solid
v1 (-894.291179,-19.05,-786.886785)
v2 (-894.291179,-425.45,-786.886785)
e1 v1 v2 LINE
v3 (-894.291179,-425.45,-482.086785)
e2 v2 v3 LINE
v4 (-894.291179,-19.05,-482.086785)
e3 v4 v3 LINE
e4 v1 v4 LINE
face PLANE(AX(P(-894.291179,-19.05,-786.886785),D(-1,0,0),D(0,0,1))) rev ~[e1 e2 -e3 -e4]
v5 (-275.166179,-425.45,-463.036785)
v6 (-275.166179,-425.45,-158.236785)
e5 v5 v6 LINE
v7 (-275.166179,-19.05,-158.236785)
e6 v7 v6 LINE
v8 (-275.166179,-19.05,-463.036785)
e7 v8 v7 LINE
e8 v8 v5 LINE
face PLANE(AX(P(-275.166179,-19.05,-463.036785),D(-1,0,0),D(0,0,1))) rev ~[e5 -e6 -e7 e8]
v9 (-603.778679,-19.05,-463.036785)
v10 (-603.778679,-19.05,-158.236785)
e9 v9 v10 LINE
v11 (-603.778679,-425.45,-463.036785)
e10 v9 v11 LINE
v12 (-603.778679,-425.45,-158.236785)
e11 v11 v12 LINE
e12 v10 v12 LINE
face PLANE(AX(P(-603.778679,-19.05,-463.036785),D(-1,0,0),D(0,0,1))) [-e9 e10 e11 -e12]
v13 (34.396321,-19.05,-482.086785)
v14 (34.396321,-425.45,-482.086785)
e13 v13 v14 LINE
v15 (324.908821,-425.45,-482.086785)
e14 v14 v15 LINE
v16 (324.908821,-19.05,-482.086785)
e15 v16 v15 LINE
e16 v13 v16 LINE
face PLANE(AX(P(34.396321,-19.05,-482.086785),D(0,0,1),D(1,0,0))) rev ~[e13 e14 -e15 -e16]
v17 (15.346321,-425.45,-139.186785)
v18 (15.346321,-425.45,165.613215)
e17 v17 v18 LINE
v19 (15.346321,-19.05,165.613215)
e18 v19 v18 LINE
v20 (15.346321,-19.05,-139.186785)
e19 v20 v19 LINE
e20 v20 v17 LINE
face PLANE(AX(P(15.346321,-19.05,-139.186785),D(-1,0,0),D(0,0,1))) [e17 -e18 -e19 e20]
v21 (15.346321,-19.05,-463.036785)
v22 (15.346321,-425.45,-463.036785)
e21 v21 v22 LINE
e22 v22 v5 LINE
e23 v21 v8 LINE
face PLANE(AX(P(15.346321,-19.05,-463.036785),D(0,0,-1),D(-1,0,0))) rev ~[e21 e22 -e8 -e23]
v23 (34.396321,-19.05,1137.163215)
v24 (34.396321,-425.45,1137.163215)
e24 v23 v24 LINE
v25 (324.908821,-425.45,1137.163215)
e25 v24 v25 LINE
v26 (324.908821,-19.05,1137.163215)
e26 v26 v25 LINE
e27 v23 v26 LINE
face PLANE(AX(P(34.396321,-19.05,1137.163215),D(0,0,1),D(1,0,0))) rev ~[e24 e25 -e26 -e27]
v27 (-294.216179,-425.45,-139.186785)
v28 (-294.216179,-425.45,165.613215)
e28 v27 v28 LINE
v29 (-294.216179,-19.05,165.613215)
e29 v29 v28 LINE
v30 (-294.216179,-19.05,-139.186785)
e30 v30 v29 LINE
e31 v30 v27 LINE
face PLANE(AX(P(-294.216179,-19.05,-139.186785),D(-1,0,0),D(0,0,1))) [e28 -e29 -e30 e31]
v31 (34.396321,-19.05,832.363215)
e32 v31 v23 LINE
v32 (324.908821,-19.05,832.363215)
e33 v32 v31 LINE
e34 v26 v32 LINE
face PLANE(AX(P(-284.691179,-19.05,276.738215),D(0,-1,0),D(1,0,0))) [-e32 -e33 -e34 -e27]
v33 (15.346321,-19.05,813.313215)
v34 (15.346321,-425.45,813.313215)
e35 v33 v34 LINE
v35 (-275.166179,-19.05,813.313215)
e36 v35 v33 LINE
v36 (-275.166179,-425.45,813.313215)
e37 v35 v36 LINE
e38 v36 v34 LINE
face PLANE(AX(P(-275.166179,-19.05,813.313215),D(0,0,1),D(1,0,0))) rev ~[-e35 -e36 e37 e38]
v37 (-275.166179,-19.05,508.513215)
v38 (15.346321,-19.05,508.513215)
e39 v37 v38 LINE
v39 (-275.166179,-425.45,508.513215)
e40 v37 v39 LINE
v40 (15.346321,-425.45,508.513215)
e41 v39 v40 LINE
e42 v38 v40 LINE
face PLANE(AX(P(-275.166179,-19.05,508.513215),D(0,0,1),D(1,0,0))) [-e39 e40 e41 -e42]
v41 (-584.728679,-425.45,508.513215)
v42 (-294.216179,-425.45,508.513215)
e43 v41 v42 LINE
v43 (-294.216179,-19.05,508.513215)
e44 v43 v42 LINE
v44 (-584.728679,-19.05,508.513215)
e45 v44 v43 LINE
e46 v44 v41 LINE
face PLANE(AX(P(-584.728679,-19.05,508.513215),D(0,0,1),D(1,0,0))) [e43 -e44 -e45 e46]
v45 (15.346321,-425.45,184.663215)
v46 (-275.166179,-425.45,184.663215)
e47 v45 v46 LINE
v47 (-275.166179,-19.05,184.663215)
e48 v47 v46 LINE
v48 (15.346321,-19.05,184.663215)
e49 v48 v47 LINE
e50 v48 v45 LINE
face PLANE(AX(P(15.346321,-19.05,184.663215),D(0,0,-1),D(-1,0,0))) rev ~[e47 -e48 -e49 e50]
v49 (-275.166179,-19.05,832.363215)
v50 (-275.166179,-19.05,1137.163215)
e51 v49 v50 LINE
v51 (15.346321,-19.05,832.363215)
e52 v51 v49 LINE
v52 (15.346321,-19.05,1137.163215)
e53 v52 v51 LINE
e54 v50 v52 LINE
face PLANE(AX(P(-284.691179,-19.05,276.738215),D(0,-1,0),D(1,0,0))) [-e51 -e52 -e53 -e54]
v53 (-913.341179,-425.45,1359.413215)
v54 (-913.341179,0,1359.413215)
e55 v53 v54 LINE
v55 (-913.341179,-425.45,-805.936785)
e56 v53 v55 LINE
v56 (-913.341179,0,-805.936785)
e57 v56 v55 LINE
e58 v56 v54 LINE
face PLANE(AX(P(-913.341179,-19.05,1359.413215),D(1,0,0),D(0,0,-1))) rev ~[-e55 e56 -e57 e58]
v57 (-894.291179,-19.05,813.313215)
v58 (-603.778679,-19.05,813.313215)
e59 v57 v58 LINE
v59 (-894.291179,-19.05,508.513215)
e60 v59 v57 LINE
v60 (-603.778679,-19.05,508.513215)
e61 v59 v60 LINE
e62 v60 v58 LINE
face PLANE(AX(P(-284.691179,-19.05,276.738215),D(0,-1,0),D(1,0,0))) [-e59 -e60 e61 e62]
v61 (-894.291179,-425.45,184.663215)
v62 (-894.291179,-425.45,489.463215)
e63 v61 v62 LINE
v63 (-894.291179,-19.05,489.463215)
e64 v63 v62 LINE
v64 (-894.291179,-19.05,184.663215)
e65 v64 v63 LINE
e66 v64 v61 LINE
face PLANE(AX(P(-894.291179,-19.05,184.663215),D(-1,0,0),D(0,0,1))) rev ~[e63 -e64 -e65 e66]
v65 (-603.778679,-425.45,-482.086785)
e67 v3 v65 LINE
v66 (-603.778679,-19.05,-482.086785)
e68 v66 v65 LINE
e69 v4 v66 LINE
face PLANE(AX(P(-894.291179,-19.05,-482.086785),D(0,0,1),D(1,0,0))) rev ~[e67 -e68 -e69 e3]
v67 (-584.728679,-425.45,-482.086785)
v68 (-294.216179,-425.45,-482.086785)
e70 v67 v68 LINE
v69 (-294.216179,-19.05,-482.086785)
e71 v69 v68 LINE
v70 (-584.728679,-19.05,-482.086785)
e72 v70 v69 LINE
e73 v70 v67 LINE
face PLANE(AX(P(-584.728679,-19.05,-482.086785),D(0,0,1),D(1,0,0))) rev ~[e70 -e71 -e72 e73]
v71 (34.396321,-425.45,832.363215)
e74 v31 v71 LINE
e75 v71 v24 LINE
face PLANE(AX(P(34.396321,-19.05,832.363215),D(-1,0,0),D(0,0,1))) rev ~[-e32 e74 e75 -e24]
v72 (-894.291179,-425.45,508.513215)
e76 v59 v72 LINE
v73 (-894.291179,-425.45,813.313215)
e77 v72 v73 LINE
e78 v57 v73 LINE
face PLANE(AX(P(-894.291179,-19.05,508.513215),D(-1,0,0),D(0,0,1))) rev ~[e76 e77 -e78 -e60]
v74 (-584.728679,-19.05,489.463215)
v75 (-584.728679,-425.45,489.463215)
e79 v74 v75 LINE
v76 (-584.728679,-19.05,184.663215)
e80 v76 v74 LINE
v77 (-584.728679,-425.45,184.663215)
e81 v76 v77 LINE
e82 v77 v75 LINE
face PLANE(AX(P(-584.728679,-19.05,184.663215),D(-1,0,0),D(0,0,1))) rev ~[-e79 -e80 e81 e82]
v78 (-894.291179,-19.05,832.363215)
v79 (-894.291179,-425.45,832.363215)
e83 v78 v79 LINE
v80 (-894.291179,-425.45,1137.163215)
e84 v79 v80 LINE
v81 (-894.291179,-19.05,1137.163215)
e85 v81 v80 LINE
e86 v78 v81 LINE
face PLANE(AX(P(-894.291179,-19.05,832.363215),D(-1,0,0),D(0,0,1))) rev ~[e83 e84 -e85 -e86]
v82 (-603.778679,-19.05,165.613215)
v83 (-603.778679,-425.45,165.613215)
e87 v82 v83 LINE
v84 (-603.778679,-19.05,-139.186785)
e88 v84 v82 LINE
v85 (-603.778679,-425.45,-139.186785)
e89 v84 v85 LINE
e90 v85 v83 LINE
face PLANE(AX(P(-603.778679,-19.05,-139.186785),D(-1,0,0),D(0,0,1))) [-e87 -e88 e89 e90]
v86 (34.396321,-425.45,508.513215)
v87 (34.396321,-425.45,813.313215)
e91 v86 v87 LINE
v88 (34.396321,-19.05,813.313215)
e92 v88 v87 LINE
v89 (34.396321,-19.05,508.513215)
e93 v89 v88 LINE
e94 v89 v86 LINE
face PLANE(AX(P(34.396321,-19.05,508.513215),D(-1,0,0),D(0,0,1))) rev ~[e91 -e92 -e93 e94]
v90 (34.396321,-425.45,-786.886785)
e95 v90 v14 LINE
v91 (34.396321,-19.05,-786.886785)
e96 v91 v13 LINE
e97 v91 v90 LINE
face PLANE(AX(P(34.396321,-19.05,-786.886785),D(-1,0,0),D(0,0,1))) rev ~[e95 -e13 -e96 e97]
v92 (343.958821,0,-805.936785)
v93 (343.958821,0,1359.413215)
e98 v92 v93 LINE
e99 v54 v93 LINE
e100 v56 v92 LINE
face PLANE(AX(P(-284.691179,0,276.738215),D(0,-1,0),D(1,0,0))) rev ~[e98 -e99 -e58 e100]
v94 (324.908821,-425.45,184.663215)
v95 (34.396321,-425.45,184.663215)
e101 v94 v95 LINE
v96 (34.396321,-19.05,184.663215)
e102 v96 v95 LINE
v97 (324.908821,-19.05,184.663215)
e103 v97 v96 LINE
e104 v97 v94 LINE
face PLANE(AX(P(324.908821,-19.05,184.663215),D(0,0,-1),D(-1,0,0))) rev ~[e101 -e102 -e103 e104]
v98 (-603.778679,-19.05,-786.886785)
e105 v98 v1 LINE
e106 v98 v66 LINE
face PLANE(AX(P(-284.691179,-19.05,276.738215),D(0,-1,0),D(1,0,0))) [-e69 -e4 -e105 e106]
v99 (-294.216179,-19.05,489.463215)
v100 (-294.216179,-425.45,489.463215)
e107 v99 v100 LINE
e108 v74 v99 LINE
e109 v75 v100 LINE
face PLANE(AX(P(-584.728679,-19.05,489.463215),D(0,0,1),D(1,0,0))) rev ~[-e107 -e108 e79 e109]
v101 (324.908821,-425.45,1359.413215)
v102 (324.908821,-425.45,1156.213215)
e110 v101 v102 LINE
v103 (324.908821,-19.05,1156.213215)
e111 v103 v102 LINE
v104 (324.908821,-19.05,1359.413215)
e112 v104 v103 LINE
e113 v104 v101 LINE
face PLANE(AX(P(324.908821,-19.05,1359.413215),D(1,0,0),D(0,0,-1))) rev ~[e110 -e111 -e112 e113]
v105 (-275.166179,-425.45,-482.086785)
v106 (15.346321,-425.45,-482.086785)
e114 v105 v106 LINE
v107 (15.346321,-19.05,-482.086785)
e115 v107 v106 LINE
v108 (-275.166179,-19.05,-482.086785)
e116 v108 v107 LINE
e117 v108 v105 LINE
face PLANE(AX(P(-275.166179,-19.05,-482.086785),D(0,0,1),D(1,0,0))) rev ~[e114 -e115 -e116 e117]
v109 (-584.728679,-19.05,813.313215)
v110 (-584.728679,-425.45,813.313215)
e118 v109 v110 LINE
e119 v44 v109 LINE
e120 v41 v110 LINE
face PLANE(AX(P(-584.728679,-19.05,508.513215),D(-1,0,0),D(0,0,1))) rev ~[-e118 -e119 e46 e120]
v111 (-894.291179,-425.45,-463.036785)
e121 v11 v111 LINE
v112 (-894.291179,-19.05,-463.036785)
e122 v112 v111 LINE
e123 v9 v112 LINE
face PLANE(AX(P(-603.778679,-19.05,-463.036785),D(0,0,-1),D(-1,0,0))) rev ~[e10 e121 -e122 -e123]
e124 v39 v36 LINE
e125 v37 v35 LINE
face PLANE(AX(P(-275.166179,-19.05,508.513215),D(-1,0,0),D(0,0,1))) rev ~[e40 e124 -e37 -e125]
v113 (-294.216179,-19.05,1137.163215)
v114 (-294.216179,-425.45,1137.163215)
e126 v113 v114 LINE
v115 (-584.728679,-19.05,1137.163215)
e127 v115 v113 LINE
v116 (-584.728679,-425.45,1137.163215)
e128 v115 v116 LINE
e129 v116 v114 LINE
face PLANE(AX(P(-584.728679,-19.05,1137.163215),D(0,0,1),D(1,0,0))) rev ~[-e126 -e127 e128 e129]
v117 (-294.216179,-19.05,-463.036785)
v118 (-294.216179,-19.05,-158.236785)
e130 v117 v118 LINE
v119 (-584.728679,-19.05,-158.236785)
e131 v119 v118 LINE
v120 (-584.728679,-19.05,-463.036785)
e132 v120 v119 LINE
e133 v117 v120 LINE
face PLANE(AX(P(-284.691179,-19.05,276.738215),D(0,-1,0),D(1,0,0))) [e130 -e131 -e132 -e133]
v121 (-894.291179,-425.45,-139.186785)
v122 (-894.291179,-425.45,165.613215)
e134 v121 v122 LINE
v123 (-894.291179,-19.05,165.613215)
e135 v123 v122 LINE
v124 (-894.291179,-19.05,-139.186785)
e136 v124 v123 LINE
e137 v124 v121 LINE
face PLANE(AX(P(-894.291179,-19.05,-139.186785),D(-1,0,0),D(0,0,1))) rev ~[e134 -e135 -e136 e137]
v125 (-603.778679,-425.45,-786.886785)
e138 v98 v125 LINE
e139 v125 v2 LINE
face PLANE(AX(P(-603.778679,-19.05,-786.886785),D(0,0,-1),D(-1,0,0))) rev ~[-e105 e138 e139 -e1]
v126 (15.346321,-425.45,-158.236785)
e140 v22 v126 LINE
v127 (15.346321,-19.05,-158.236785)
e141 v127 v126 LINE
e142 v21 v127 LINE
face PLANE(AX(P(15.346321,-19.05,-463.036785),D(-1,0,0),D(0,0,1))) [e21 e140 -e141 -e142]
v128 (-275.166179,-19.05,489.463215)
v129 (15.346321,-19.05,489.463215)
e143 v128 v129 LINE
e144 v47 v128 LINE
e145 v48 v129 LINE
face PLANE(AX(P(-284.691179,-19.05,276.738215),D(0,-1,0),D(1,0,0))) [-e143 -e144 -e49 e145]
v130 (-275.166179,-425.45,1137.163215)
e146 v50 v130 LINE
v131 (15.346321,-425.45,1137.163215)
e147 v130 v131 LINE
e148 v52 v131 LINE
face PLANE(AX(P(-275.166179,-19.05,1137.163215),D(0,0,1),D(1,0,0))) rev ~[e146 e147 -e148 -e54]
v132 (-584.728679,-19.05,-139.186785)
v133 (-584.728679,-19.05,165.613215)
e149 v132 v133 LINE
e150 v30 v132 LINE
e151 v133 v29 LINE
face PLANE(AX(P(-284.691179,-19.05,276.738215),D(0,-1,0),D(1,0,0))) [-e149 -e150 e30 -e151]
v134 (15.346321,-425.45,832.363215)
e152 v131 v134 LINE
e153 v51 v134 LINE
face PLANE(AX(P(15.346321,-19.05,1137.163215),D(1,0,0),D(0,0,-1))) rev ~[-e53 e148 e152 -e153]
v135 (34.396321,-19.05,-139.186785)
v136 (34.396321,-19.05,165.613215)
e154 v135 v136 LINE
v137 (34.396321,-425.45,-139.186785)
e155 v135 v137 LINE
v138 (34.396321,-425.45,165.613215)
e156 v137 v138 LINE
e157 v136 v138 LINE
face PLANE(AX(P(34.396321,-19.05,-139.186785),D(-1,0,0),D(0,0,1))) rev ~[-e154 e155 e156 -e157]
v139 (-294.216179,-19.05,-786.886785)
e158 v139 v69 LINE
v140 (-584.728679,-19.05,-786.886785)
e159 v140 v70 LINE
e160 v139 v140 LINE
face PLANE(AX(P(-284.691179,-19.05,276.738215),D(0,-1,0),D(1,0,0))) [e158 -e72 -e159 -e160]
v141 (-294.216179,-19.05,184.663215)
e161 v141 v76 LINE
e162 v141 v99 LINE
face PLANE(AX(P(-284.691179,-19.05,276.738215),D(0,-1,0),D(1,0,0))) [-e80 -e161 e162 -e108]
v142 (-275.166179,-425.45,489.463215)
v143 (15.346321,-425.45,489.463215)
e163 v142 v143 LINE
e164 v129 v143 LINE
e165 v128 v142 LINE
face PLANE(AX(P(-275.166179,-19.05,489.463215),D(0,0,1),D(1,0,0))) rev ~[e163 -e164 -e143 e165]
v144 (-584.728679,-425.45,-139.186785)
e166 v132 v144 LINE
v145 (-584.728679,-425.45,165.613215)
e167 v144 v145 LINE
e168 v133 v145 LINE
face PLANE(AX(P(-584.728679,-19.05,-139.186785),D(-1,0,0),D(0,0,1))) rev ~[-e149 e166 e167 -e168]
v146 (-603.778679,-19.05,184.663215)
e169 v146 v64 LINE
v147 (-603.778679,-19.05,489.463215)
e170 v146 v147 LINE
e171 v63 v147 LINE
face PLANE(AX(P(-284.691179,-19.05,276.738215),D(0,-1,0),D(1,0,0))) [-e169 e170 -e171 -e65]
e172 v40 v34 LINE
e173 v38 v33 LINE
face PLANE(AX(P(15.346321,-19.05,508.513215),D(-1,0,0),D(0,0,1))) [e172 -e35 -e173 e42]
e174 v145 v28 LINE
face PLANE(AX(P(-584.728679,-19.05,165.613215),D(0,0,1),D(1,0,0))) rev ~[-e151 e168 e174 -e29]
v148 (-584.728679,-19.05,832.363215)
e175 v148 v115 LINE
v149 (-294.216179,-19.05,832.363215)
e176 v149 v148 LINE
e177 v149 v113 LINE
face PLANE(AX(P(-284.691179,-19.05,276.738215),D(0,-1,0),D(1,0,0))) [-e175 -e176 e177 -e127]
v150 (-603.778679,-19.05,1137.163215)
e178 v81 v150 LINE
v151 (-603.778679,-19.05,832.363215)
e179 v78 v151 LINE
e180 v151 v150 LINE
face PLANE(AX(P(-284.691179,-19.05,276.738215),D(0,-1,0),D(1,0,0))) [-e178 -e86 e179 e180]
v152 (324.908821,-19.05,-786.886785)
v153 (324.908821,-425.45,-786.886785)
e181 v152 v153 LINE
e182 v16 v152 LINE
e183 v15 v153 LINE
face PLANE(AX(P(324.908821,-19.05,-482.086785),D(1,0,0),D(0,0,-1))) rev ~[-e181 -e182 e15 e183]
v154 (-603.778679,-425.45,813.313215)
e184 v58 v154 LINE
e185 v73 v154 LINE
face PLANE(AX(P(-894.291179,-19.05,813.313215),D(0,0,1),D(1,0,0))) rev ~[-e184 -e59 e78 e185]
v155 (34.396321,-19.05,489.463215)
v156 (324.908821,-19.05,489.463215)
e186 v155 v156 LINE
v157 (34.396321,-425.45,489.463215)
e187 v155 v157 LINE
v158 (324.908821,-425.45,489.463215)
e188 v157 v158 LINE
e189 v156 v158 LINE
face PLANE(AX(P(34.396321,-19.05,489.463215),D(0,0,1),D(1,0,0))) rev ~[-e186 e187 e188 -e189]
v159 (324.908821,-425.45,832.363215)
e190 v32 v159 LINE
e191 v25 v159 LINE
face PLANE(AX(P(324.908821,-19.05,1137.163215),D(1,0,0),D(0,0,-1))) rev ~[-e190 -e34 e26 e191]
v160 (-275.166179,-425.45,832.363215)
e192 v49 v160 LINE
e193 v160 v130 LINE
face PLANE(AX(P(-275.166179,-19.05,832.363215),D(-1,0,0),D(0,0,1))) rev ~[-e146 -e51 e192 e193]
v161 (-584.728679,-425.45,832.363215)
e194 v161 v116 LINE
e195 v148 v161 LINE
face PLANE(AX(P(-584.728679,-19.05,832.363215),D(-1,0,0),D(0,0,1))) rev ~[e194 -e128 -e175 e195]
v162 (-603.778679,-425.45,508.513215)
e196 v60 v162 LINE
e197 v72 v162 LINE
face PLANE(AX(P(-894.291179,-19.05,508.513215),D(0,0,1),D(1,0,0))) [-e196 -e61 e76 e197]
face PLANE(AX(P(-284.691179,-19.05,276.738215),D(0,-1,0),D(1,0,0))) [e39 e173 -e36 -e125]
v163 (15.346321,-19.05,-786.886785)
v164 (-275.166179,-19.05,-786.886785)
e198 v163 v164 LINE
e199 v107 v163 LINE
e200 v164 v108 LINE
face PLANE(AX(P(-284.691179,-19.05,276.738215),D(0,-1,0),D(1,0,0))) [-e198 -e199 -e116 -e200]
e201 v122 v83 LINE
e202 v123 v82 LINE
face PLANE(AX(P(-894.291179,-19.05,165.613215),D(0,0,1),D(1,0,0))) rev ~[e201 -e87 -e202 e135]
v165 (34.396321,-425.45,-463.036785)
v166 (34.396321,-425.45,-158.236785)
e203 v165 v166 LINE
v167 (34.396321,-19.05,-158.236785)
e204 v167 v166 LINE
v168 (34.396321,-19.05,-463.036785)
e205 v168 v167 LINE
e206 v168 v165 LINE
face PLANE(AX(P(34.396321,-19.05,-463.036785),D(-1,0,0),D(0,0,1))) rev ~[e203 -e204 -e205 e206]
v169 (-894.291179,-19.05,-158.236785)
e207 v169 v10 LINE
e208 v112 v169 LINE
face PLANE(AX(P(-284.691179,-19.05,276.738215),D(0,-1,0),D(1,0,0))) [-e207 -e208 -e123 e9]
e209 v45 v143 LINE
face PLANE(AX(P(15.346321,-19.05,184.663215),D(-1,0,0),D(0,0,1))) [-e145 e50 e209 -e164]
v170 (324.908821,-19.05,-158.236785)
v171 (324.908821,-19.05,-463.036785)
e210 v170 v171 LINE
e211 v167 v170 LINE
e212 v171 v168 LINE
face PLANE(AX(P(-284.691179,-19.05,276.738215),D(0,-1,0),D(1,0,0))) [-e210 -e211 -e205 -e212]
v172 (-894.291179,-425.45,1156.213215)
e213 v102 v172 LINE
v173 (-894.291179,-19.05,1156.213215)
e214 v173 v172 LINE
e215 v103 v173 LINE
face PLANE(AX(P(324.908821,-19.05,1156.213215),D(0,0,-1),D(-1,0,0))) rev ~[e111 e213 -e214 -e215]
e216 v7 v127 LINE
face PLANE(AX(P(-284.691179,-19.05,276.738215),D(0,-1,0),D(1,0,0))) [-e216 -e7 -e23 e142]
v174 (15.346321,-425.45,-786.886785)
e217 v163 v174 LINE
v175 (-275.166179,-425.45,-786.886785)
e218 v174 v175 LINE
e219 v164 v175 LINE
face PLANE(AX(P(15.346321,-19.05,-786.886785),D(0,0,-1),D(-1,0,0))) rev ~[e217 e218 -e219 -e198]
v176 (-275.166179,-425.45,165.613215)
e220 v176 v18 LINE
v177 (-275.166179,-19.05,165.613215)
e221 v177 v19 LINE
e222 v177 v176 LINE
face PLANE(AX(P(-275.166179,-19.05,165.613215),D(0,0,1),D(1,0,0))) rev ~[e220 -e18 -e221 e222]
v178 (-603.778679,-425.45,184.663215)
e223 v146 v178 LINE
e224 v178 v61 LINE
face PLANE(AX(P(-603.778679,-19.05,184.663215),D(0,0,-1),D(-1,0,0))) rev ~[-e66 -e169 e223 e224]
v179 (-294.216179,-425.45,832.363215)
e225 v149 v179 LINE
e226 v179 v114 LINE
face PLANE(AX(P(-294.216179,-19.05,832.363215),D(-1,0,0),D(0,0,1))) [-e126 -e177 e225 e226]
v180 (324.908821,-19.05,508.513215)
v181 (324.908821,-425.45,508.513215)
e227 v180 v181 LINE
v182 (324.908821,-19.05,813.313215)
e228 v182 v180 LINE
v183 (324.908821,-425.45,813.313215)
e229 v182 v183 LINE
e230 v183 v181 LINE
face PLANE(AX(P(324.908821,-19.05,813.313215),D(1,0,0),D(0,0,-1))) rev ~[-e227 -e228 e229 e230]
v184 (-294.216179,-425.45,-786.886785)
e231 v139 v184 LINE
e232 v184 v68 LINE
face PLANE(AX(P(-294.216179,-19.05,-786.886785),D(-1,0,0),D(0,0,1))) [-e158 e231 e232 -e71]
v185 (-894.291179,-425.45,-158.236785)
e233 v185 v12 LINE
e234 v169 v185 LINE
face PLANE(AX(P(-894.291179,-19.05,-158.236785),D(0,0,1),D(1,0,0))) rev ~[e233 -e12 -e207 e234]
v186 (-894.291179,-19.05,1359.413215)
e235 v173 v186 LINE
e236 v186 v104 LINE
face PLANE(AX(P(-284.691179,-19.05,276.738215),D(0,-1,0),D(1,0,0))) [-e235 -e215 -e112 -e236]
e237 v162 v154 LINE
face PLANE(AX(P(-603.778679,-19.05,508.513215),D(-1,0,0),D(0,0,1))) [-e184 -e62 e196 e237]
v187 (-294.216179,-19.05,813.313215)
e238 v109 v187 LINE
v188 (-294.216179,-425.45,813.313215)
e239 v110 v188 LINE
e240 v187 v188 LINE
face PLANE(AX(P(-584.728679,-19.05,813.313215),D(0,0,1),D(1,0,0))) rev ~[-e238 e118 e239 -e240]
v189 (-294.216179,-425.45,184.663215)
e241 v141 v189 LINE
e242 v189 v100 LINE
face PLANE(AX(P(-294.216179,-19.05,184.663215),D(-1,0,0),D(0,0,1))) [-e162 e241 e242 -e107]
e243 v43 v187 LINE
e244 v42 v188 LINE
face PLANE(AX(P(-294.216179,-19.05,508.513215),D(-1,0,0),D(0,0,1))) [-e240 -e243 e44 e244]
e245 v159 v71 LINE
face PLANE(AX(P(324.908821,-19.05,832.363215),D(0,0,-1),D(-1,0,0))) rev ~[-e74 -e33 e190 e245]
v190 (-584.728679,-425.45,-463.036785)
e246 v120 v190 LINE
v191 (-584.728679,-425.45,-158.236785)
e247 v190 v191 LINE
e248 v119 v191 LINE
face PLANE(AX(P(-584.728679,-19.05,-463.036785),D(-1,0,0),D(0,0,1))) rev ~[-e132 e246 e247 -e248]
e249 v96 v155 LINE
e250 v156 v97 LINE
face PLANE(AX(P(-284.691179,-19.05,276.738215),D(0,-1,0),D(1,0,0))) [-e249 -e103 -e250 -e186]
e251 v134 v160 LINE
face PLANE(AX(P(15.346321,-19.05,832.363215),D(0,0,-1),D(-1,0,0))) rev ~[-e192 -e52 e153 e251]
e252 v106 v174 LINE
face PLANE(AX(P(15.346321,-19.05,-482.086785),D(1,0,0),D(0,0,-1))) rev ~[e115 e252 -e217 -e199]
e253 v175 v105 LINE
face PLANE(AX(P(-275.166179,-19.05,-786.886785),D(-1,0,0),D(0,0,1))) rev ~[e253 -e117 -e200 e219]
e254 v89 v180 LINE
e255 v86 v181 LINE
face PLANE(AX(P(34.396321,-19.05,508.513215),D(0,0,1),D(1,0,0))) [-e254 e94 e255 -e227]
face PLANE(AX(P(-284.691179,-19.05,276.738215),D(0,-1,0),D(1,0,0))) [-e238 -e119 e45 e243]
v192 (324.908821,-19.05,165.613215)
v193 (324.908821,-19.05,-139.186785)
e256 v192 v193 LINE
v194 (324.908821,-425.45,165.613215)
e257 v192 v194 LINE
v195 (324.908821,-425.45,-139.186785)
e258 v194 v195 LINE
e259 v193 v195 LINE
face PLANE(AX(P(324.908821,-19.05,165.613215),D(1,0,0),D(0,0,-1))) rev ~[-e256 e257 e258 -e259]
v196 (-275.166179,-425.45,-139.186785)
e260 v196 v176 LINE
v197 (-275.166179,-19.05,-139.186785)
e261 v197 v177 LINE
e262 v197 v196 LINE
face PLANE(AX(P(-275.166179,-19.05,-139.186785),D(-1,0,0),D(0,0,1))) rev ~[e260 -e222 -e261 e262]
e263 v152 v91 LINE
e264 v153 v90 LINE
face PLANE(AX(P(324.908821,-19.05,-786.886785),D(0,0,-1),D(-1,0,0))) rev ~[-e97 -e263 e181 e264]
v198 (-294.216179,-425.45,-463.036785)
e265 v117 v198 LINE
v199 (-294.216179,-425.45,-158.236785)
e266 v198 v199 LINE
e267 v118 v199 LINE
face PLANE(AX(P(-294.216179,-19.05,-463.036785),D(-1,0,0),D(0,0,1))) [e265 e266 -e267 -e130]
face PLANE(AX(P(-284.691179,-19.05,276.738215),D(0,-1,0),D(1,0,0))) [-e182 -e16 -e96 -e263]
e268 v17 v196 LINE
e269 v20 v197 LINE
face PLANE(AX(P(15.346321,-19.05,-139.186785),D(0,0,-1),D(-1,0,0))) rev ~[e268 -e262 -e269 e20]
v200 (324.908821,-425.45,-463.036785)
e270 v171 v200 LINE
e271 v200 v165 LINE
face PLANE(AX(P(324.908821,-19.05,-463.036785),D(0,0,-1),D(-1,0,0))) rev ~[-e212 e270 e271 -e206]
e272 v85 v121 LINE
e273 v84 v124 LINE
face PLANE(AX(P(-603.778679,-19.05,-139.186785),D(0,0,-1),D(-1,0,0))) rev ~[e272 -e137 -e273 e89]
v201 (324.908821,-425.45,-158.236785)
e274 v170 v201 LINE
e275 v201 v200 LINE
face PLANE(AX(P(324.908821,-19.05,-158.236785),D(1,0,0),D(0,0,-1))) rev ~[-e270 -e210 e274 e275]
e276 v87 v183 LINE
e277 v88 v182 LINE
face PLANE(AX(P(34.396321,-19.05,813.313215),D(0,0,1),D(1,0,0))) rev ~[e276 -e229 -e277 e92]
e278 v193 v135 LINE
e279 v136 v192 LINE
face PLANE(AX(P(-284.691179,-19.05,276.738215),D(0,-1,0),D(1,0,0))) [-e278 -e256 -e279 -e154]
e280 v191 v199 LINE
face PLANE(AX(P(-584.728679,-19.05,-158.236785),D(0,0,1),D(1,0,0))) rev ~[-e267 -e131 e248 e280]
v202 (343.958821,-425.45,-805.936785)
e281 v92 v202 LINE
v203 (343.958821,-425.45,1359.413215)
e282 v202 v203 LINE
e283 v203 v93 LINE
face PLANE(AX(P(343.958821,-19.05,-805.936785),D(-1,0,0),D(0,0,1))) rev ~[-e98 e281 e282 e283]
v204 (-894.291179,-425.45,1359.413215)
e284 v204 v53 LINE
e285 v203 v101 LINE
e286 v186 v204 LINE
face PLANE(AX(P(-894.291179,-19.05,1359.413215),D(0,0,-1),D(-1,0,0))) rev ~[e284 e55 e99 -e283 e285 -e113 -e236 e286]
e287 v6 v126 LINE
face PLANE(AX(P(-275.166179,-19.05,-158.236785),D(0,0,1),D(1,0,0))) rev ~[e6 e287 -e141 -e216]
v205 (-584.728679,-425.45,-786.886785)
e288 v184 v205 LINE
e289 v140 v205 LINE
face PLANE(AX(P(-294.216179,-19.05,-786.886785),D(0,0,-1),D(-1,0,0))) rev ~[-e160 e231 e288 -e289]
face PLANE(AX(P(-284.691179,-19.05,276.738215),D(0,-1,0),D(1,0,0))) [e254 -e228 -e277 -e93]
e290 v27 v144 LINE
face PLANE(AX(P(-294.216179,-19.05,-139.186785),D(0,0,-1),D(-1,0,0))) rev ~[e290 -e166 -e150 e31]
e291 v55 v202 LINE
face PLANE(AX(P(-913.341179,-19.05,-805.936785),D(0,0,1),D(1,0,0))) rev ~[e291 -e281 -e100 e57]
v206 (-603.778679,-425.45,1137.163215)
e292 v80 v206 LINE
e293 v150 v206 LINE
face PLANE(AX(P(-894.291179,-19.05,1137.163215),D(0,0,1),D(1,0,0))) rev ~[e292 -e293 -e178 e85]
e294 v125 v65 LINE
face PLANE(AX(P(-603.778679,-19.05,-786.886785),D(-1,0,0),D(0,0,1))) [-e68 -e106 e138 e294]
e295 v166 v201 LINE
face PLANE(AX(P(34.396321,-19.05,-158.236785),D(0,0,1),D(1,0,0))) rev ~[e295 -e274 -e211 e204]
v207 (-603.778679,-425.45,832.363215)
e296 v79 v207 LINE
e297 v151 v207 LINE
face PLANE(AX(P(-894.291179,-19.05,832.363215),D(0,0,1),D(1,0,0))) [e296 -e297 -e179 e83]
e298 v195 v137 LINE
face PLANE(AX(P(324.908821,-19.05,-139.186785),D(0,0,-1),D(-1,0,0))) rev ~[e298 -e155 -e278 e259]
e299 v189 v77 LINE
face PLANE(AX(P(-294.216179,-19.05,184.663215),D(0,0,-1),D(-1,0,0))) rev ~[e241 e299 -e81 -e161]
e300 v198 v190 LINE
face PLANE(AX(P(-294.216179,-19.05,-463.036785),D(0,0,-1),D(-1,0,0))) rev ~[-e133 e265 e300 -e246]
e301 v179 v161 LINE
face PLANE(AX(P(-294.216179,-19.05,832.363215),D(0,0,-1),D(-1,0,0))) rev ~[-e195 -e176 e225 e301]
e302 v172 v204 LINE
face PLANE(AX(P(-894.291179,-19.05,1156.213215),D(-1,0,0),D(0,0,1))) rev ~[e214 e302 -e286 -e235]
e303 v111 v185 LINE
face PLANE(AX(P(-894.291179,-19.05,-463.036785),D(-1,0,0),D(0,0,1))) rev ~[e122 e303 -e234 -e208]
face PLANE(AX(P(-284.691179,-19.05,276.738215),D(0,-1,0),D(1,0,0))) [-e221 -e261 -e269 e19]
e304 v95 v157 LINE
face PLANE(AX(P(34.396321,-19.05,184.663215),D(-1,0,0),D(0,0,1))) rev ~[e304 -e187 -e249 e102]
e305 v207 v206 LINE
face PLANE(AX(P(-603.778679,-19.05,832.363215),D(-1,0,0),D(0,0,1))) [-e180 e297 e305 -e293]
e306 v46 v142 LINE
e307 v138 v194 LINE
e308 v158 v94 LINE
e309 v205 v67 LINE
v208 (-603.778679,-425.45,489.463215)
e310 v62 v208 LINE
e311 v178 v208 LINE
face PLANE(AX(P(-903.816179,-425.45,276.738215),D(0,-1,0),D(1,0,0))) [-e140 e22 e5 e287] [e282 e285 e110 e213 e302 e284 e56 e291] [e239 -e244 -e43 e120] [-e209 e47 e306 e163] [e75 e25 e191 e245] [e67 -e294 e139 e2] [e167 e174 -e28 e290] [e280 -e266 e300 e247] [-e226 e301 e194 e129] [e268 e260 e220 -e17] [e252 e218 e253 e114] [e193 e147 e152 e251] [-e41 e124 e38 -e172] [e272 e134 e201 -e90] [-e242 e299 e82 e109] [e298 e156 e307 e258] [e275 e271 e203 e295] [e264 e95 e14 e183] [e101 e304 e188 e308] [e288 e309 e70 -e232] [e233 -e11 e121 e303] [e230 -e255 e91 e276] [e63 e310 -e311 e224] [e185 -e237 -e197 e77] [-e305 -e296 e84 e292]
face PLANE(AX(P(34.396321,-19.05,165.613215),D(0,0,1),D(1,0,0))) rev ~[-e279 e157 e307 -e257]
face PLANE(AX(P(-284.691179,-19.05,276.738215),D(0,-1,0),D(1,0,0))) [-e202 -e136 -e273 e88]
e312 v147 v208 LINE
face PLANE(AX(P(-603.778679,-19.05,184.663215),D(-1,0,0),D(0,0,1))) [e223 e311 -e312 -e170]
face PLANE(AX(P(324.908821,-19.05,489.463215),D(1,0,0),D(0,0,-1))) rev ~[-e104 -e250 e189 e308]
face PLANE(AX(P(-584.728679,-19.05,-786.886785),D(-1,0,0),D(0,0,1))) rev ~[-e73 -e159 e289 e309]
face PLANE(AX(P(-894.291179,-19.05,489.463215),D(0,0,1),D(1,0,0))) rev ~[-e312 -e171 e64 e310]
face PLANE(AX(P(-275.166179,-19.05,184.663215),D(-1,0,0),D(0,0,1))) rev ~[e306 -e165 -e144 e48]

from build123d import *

# Parameters (mm, degrees)
F0_W     = 1257.3
F0_H     = 2165.35
F1_DEPTH = 19.05
F2_W     = 19.05
F2_H     = 304.8
F2_W_2   = 290.5125
F2_H_2   = 19.05
F3_DEPTH = 406.4


with BuildPart() as f1:
    # F0 (on Front) → F1 (new body)
    with BuildSketch(Plane.XZ):
        with Locations((-284.6911793649, 276.7382148782)):
            Rectangle(F0_W, F0_H)
    extrude(amount=F1_DEPTH)

    # F2 (on face) → F3 (join)
    with BuildSketch(Plane.XZ.offset(19.05)):
        Polygon((-913.3411793649, 1359.4132148782), (-913.3411793649, -805.9367851218), (-894.2911793649, -805.9367851218), (-894.2911793649, -786.8867851218), (-894.2911793649, -482.0867851218), (-894.2911793649, -463.0367851218), (-894.2911793649, -158.2367851218), (-894.2911793649, -139.1867851218), (-894.2911793649, 165.6132148782), (-894.2911793649, 184.6632148782), (-894.2911793649, 489.4632148782), (-894.2911793649, 508.5132148782), (-894.2911793649, 813.3132148782), (-894.2911793649, 832.3632148782), (-894.2911793649, 1137.1632148782), (-894.2911793649, 1156.2132148782), (-894.2911793649, 1359.4132148782), align=None)
        Polygon((-894.2911793649, -786.8867851218), (-894.2911793649, -805.9367851218), (324.9088206351, -805.9367851218), (324.9088206351, -786.8867851218), (34.3963206351, -786.8867851218), (19.05, -786.8867851218), (15.3463206351, -786.8867851218), (0, -786.8867851218), (-275.1661793649, -786.8867851218), (-294.2161793649, -786.8867851218), (-584.7286793649, -786.8867851218), (-603.7786793649, -786.8867851218), align=None)
        Polygon((324.9088206351, -786.8867851218), (324.9088206351, -805.9367851218), (343.9588206351, -805.9367851218), (343.9588206351, 1359.4132148782), (324.9088206351, 1359.4132148782), (324.9088206351, 1156.2132148782), (324.9088206351, 1137.1632148782), (324.9088206351, 832.3632148782), (324.9088206351, 813.3132148782), (324.9088206351, 508.5132148782), (324.9088206351, 489.4632148782), (324.9088206351, 184.6632148782), (324.9088206351, 165.6132148782), (324.9088206351, -139.1867851218), (324.9088206351, -158.2367851218), (324.9088206351, -463.0367851218), (324.9088206351, -482.0867851218), align=None)
        Polygon((324.9088206351, 1156.2132148782), (-894.2911793649, 1156.2132148782), (-894.2911793649, 1137.1632148782), (-603.7786793649, 1137.1632148782), (-584.7286793649, 1137.1632148782), (-294.2161793649, 1137.1632148782), (-275.1661793649, 1137.1632148782), (0, 1137.1632148782), (15.3463206351, 1137.1632148782), (19.05, 1137.1632148782), (34.3963206351, 1137.1632148782), (324.9088206351, 1137.1632148782), align=None)
        with Locations((-594.2536793649, 660.9132148782)):
            Rectangle(F2_W, F2_H)
        with Locations((-594.2536793649, 984.7632148782)):
            Rectangle(F2_W, F2_H)
        with Locations((-749.0349293649, 822.8382148782)):
            Rectangle(F2_W_2, F2_H_2)
        with Locations((-439.4724293649, 822.8382148782)):
            Rectangle(F2_W_2, F2_H_2)
        with Locations((-594.2536793649, 822.8382148782)):
            Rectangle(F2_W, F2_H_2)
        with Locations((-284.6911793649, 822.8382148782)):
            Rectangle(F2_W, F2_H_2)
        with Locations((-129.9099293649, 822.8382148782)):
            Rectangle(F2_W_2, F2_H_2)
        with Locations((24.8713206351, 822.8382148782)):
            Rectangle(F2_W, F2_H_2)
        with Locations((179.6525706351, 822.8382148782)):
            Rectangle(F2_W_2, F2_H_2)
        Polygon((34.3963206351, 832.3632148782), (34.3963206351, 1137.1632148782), (19.05, 1137.1632148782), (15.3463206351, 1137.1632148782), (15.3463206351, 832.3632148782), align=None)
        with Locations((-284.6911793649, 984.7632148782)):
            Rectangle(F2_W, F2_H)
        with Locations((-284.6911793649, 660.9132148782)):
            Rectangle(F2_W, F2_H)
        with Locations((24.8713206351, 660.9132148782)):
            Rectangle(F2_W, F2_H)
        with Locations((-749.0349293649, 498.9882148782)):
            Rectangle(F2_W_2, F2_H_2)
        with Locations((-594.2536793649, 498.9882148782)):
            Rectangle(F2_W, F2_H_2)
        with Locations((-439.4724293649, 498.9882148782)):
            Rectangle(F2_W_2, F2_H_2)
        with Locations((-284.6911793649, 498.9882148782)):
            Rectangle(F2_W, F2_H_2)
        with Locations((-129.9099293649, 498.9882148782)):
            Rectangle(F2_W_2, F2_H_2)
        with Locations((24.8713206351, 498.9882148782)):
            Rectangle(F2_W, F2_H_2)
        with Locations((179.6525706351, 498.9882148782)):
            Rectangle(F2_W_2, F2_H_2)
        with Locations((-749.0349293649, 175.1382148782)):
            Rectangle(F2_W_2, F2_H_2)
        with Locations((-594.2536793649, 175.1382148782)):
            Rectangle(F2_W, F2_H_2)
        with Locations((-439.4724293649, 175.1382148782)):
            Rectangle(F2_W_2, F2_H_2)
        with Locations((-284.6911793649, 175.1382148782)):
            Rectangle(F2_W, F2_H_2)
        with Locations((-129.9099293649, 175.1382148782)):
            Rectangle(F2_W_2, F2_H_2)
        with Locations((24.8713206351, 175.1382148782)):
            Rectangle(F2_W, F2_H_2)
        with Locations((179.6525706351, 175.1382148782)):
            Rectangle(F2_W_2, F2_H_2)
        with Locations((24.8713206351, 337.0632148782)):
            Rectangle(F2_W, F2_H)
        with Locations((-284.6911793649, 337.0632148782)):
            Rectangle(F2_W, F2_H)
        with Locations((-594.2536793649, 337.0632148782)):
            Rectangle(F2_W, F2_H)
        with Locations((-749.0349293649, -148.7117851218)):
            Rectangle(F2_W_2, F2_H_2)
        with Locations((-594.2536793649, -148.7117851218)):
            Rectangle(F2_W, F2_H_2)
        with Locations((-439.4724293649, -148.7117851218)):
            Rectangle(F2_W_2, F2_H_2)
        with Locations((-284.6911793649, -148.7117851218)):
            Rectangle(F2_W, F2_H_2)
        with Locations((-129.9099293649, -148.7117851218)):
            Rectangle(F2_W_2, F2_H_2)
        with Locations((24.8713206351, -148.7117851218)):
            Rectangle(F2_W, F2_H_2)
        with Locations((179.6525706351, -148.7117851218)):
            Rectangle(F2_W_2, F2_H_2)
        with Locations((-594.2536793649, 13.2132148782)):
            Rectangle(F2_W, F2_H)
        with Locations((-284.6911793649, 13.2132148782)):
            Rectangle(F2_W, F2_H)
        with Locations((24.8713206351, 13.2132148782)):
            Rectangle(F2_W, F2_H)
        with Locations((-749.0349293649, -472.5617851218)):
            Rectangle(F2_W_2, F2_H_2)
        with Locations((-594.2536793649, -472.5617851218)):
            Rectangle(F2_W, F2_H_2)
        with Locations((-439.4724293649, -472.5617851218)):
            Rectangle(F2_W_2, F2_H_2)
        with Locations((-284.6911793649, -472.5617851218)):
            Rectangle(F2_W, F2_H_2)
        with Locations((-129.9099293649, -472.5617851218)):
            Rectangle(F2_W_2, F2_H_2)
        with Locations((24.8713206351, -472.5617851218)):
            Rectangle(F2_W, F2_H_2)
        with Locations((179.6525706351, -472.5617851218)):
            Rectangle(F2_W_2, F2_H_2)
        with Locations((-594.2536793649, -310.6367851218)):
            Rectangle(F2_W, F2_H)
        with Locations((-284.6911793649, -310.6367851218)):
            Rectangle(F2_W, F2_H)
        with Locations((24.8713206351, -310.6367851218)):
            Rectangle(F2_W, F2_H)
        Polygon((19.05, -786.8867851218), (34.3963206351, -786.8867851218), (34.3963206351, -482.0867851218), (15.3463206351, -482.0867851218), (15.3463206351, -786.8867851218), align=None)
        with Locations((-284.6911793649, -634.4867851218)):
            Rectangle(F2_W, F2_H)
        with Locations((-594.2536793649, -634.4867851218)):
            Rectangle(F2_W, F2_H)
    extrude(amount=F3_DEPTH)


solid = f1.part
